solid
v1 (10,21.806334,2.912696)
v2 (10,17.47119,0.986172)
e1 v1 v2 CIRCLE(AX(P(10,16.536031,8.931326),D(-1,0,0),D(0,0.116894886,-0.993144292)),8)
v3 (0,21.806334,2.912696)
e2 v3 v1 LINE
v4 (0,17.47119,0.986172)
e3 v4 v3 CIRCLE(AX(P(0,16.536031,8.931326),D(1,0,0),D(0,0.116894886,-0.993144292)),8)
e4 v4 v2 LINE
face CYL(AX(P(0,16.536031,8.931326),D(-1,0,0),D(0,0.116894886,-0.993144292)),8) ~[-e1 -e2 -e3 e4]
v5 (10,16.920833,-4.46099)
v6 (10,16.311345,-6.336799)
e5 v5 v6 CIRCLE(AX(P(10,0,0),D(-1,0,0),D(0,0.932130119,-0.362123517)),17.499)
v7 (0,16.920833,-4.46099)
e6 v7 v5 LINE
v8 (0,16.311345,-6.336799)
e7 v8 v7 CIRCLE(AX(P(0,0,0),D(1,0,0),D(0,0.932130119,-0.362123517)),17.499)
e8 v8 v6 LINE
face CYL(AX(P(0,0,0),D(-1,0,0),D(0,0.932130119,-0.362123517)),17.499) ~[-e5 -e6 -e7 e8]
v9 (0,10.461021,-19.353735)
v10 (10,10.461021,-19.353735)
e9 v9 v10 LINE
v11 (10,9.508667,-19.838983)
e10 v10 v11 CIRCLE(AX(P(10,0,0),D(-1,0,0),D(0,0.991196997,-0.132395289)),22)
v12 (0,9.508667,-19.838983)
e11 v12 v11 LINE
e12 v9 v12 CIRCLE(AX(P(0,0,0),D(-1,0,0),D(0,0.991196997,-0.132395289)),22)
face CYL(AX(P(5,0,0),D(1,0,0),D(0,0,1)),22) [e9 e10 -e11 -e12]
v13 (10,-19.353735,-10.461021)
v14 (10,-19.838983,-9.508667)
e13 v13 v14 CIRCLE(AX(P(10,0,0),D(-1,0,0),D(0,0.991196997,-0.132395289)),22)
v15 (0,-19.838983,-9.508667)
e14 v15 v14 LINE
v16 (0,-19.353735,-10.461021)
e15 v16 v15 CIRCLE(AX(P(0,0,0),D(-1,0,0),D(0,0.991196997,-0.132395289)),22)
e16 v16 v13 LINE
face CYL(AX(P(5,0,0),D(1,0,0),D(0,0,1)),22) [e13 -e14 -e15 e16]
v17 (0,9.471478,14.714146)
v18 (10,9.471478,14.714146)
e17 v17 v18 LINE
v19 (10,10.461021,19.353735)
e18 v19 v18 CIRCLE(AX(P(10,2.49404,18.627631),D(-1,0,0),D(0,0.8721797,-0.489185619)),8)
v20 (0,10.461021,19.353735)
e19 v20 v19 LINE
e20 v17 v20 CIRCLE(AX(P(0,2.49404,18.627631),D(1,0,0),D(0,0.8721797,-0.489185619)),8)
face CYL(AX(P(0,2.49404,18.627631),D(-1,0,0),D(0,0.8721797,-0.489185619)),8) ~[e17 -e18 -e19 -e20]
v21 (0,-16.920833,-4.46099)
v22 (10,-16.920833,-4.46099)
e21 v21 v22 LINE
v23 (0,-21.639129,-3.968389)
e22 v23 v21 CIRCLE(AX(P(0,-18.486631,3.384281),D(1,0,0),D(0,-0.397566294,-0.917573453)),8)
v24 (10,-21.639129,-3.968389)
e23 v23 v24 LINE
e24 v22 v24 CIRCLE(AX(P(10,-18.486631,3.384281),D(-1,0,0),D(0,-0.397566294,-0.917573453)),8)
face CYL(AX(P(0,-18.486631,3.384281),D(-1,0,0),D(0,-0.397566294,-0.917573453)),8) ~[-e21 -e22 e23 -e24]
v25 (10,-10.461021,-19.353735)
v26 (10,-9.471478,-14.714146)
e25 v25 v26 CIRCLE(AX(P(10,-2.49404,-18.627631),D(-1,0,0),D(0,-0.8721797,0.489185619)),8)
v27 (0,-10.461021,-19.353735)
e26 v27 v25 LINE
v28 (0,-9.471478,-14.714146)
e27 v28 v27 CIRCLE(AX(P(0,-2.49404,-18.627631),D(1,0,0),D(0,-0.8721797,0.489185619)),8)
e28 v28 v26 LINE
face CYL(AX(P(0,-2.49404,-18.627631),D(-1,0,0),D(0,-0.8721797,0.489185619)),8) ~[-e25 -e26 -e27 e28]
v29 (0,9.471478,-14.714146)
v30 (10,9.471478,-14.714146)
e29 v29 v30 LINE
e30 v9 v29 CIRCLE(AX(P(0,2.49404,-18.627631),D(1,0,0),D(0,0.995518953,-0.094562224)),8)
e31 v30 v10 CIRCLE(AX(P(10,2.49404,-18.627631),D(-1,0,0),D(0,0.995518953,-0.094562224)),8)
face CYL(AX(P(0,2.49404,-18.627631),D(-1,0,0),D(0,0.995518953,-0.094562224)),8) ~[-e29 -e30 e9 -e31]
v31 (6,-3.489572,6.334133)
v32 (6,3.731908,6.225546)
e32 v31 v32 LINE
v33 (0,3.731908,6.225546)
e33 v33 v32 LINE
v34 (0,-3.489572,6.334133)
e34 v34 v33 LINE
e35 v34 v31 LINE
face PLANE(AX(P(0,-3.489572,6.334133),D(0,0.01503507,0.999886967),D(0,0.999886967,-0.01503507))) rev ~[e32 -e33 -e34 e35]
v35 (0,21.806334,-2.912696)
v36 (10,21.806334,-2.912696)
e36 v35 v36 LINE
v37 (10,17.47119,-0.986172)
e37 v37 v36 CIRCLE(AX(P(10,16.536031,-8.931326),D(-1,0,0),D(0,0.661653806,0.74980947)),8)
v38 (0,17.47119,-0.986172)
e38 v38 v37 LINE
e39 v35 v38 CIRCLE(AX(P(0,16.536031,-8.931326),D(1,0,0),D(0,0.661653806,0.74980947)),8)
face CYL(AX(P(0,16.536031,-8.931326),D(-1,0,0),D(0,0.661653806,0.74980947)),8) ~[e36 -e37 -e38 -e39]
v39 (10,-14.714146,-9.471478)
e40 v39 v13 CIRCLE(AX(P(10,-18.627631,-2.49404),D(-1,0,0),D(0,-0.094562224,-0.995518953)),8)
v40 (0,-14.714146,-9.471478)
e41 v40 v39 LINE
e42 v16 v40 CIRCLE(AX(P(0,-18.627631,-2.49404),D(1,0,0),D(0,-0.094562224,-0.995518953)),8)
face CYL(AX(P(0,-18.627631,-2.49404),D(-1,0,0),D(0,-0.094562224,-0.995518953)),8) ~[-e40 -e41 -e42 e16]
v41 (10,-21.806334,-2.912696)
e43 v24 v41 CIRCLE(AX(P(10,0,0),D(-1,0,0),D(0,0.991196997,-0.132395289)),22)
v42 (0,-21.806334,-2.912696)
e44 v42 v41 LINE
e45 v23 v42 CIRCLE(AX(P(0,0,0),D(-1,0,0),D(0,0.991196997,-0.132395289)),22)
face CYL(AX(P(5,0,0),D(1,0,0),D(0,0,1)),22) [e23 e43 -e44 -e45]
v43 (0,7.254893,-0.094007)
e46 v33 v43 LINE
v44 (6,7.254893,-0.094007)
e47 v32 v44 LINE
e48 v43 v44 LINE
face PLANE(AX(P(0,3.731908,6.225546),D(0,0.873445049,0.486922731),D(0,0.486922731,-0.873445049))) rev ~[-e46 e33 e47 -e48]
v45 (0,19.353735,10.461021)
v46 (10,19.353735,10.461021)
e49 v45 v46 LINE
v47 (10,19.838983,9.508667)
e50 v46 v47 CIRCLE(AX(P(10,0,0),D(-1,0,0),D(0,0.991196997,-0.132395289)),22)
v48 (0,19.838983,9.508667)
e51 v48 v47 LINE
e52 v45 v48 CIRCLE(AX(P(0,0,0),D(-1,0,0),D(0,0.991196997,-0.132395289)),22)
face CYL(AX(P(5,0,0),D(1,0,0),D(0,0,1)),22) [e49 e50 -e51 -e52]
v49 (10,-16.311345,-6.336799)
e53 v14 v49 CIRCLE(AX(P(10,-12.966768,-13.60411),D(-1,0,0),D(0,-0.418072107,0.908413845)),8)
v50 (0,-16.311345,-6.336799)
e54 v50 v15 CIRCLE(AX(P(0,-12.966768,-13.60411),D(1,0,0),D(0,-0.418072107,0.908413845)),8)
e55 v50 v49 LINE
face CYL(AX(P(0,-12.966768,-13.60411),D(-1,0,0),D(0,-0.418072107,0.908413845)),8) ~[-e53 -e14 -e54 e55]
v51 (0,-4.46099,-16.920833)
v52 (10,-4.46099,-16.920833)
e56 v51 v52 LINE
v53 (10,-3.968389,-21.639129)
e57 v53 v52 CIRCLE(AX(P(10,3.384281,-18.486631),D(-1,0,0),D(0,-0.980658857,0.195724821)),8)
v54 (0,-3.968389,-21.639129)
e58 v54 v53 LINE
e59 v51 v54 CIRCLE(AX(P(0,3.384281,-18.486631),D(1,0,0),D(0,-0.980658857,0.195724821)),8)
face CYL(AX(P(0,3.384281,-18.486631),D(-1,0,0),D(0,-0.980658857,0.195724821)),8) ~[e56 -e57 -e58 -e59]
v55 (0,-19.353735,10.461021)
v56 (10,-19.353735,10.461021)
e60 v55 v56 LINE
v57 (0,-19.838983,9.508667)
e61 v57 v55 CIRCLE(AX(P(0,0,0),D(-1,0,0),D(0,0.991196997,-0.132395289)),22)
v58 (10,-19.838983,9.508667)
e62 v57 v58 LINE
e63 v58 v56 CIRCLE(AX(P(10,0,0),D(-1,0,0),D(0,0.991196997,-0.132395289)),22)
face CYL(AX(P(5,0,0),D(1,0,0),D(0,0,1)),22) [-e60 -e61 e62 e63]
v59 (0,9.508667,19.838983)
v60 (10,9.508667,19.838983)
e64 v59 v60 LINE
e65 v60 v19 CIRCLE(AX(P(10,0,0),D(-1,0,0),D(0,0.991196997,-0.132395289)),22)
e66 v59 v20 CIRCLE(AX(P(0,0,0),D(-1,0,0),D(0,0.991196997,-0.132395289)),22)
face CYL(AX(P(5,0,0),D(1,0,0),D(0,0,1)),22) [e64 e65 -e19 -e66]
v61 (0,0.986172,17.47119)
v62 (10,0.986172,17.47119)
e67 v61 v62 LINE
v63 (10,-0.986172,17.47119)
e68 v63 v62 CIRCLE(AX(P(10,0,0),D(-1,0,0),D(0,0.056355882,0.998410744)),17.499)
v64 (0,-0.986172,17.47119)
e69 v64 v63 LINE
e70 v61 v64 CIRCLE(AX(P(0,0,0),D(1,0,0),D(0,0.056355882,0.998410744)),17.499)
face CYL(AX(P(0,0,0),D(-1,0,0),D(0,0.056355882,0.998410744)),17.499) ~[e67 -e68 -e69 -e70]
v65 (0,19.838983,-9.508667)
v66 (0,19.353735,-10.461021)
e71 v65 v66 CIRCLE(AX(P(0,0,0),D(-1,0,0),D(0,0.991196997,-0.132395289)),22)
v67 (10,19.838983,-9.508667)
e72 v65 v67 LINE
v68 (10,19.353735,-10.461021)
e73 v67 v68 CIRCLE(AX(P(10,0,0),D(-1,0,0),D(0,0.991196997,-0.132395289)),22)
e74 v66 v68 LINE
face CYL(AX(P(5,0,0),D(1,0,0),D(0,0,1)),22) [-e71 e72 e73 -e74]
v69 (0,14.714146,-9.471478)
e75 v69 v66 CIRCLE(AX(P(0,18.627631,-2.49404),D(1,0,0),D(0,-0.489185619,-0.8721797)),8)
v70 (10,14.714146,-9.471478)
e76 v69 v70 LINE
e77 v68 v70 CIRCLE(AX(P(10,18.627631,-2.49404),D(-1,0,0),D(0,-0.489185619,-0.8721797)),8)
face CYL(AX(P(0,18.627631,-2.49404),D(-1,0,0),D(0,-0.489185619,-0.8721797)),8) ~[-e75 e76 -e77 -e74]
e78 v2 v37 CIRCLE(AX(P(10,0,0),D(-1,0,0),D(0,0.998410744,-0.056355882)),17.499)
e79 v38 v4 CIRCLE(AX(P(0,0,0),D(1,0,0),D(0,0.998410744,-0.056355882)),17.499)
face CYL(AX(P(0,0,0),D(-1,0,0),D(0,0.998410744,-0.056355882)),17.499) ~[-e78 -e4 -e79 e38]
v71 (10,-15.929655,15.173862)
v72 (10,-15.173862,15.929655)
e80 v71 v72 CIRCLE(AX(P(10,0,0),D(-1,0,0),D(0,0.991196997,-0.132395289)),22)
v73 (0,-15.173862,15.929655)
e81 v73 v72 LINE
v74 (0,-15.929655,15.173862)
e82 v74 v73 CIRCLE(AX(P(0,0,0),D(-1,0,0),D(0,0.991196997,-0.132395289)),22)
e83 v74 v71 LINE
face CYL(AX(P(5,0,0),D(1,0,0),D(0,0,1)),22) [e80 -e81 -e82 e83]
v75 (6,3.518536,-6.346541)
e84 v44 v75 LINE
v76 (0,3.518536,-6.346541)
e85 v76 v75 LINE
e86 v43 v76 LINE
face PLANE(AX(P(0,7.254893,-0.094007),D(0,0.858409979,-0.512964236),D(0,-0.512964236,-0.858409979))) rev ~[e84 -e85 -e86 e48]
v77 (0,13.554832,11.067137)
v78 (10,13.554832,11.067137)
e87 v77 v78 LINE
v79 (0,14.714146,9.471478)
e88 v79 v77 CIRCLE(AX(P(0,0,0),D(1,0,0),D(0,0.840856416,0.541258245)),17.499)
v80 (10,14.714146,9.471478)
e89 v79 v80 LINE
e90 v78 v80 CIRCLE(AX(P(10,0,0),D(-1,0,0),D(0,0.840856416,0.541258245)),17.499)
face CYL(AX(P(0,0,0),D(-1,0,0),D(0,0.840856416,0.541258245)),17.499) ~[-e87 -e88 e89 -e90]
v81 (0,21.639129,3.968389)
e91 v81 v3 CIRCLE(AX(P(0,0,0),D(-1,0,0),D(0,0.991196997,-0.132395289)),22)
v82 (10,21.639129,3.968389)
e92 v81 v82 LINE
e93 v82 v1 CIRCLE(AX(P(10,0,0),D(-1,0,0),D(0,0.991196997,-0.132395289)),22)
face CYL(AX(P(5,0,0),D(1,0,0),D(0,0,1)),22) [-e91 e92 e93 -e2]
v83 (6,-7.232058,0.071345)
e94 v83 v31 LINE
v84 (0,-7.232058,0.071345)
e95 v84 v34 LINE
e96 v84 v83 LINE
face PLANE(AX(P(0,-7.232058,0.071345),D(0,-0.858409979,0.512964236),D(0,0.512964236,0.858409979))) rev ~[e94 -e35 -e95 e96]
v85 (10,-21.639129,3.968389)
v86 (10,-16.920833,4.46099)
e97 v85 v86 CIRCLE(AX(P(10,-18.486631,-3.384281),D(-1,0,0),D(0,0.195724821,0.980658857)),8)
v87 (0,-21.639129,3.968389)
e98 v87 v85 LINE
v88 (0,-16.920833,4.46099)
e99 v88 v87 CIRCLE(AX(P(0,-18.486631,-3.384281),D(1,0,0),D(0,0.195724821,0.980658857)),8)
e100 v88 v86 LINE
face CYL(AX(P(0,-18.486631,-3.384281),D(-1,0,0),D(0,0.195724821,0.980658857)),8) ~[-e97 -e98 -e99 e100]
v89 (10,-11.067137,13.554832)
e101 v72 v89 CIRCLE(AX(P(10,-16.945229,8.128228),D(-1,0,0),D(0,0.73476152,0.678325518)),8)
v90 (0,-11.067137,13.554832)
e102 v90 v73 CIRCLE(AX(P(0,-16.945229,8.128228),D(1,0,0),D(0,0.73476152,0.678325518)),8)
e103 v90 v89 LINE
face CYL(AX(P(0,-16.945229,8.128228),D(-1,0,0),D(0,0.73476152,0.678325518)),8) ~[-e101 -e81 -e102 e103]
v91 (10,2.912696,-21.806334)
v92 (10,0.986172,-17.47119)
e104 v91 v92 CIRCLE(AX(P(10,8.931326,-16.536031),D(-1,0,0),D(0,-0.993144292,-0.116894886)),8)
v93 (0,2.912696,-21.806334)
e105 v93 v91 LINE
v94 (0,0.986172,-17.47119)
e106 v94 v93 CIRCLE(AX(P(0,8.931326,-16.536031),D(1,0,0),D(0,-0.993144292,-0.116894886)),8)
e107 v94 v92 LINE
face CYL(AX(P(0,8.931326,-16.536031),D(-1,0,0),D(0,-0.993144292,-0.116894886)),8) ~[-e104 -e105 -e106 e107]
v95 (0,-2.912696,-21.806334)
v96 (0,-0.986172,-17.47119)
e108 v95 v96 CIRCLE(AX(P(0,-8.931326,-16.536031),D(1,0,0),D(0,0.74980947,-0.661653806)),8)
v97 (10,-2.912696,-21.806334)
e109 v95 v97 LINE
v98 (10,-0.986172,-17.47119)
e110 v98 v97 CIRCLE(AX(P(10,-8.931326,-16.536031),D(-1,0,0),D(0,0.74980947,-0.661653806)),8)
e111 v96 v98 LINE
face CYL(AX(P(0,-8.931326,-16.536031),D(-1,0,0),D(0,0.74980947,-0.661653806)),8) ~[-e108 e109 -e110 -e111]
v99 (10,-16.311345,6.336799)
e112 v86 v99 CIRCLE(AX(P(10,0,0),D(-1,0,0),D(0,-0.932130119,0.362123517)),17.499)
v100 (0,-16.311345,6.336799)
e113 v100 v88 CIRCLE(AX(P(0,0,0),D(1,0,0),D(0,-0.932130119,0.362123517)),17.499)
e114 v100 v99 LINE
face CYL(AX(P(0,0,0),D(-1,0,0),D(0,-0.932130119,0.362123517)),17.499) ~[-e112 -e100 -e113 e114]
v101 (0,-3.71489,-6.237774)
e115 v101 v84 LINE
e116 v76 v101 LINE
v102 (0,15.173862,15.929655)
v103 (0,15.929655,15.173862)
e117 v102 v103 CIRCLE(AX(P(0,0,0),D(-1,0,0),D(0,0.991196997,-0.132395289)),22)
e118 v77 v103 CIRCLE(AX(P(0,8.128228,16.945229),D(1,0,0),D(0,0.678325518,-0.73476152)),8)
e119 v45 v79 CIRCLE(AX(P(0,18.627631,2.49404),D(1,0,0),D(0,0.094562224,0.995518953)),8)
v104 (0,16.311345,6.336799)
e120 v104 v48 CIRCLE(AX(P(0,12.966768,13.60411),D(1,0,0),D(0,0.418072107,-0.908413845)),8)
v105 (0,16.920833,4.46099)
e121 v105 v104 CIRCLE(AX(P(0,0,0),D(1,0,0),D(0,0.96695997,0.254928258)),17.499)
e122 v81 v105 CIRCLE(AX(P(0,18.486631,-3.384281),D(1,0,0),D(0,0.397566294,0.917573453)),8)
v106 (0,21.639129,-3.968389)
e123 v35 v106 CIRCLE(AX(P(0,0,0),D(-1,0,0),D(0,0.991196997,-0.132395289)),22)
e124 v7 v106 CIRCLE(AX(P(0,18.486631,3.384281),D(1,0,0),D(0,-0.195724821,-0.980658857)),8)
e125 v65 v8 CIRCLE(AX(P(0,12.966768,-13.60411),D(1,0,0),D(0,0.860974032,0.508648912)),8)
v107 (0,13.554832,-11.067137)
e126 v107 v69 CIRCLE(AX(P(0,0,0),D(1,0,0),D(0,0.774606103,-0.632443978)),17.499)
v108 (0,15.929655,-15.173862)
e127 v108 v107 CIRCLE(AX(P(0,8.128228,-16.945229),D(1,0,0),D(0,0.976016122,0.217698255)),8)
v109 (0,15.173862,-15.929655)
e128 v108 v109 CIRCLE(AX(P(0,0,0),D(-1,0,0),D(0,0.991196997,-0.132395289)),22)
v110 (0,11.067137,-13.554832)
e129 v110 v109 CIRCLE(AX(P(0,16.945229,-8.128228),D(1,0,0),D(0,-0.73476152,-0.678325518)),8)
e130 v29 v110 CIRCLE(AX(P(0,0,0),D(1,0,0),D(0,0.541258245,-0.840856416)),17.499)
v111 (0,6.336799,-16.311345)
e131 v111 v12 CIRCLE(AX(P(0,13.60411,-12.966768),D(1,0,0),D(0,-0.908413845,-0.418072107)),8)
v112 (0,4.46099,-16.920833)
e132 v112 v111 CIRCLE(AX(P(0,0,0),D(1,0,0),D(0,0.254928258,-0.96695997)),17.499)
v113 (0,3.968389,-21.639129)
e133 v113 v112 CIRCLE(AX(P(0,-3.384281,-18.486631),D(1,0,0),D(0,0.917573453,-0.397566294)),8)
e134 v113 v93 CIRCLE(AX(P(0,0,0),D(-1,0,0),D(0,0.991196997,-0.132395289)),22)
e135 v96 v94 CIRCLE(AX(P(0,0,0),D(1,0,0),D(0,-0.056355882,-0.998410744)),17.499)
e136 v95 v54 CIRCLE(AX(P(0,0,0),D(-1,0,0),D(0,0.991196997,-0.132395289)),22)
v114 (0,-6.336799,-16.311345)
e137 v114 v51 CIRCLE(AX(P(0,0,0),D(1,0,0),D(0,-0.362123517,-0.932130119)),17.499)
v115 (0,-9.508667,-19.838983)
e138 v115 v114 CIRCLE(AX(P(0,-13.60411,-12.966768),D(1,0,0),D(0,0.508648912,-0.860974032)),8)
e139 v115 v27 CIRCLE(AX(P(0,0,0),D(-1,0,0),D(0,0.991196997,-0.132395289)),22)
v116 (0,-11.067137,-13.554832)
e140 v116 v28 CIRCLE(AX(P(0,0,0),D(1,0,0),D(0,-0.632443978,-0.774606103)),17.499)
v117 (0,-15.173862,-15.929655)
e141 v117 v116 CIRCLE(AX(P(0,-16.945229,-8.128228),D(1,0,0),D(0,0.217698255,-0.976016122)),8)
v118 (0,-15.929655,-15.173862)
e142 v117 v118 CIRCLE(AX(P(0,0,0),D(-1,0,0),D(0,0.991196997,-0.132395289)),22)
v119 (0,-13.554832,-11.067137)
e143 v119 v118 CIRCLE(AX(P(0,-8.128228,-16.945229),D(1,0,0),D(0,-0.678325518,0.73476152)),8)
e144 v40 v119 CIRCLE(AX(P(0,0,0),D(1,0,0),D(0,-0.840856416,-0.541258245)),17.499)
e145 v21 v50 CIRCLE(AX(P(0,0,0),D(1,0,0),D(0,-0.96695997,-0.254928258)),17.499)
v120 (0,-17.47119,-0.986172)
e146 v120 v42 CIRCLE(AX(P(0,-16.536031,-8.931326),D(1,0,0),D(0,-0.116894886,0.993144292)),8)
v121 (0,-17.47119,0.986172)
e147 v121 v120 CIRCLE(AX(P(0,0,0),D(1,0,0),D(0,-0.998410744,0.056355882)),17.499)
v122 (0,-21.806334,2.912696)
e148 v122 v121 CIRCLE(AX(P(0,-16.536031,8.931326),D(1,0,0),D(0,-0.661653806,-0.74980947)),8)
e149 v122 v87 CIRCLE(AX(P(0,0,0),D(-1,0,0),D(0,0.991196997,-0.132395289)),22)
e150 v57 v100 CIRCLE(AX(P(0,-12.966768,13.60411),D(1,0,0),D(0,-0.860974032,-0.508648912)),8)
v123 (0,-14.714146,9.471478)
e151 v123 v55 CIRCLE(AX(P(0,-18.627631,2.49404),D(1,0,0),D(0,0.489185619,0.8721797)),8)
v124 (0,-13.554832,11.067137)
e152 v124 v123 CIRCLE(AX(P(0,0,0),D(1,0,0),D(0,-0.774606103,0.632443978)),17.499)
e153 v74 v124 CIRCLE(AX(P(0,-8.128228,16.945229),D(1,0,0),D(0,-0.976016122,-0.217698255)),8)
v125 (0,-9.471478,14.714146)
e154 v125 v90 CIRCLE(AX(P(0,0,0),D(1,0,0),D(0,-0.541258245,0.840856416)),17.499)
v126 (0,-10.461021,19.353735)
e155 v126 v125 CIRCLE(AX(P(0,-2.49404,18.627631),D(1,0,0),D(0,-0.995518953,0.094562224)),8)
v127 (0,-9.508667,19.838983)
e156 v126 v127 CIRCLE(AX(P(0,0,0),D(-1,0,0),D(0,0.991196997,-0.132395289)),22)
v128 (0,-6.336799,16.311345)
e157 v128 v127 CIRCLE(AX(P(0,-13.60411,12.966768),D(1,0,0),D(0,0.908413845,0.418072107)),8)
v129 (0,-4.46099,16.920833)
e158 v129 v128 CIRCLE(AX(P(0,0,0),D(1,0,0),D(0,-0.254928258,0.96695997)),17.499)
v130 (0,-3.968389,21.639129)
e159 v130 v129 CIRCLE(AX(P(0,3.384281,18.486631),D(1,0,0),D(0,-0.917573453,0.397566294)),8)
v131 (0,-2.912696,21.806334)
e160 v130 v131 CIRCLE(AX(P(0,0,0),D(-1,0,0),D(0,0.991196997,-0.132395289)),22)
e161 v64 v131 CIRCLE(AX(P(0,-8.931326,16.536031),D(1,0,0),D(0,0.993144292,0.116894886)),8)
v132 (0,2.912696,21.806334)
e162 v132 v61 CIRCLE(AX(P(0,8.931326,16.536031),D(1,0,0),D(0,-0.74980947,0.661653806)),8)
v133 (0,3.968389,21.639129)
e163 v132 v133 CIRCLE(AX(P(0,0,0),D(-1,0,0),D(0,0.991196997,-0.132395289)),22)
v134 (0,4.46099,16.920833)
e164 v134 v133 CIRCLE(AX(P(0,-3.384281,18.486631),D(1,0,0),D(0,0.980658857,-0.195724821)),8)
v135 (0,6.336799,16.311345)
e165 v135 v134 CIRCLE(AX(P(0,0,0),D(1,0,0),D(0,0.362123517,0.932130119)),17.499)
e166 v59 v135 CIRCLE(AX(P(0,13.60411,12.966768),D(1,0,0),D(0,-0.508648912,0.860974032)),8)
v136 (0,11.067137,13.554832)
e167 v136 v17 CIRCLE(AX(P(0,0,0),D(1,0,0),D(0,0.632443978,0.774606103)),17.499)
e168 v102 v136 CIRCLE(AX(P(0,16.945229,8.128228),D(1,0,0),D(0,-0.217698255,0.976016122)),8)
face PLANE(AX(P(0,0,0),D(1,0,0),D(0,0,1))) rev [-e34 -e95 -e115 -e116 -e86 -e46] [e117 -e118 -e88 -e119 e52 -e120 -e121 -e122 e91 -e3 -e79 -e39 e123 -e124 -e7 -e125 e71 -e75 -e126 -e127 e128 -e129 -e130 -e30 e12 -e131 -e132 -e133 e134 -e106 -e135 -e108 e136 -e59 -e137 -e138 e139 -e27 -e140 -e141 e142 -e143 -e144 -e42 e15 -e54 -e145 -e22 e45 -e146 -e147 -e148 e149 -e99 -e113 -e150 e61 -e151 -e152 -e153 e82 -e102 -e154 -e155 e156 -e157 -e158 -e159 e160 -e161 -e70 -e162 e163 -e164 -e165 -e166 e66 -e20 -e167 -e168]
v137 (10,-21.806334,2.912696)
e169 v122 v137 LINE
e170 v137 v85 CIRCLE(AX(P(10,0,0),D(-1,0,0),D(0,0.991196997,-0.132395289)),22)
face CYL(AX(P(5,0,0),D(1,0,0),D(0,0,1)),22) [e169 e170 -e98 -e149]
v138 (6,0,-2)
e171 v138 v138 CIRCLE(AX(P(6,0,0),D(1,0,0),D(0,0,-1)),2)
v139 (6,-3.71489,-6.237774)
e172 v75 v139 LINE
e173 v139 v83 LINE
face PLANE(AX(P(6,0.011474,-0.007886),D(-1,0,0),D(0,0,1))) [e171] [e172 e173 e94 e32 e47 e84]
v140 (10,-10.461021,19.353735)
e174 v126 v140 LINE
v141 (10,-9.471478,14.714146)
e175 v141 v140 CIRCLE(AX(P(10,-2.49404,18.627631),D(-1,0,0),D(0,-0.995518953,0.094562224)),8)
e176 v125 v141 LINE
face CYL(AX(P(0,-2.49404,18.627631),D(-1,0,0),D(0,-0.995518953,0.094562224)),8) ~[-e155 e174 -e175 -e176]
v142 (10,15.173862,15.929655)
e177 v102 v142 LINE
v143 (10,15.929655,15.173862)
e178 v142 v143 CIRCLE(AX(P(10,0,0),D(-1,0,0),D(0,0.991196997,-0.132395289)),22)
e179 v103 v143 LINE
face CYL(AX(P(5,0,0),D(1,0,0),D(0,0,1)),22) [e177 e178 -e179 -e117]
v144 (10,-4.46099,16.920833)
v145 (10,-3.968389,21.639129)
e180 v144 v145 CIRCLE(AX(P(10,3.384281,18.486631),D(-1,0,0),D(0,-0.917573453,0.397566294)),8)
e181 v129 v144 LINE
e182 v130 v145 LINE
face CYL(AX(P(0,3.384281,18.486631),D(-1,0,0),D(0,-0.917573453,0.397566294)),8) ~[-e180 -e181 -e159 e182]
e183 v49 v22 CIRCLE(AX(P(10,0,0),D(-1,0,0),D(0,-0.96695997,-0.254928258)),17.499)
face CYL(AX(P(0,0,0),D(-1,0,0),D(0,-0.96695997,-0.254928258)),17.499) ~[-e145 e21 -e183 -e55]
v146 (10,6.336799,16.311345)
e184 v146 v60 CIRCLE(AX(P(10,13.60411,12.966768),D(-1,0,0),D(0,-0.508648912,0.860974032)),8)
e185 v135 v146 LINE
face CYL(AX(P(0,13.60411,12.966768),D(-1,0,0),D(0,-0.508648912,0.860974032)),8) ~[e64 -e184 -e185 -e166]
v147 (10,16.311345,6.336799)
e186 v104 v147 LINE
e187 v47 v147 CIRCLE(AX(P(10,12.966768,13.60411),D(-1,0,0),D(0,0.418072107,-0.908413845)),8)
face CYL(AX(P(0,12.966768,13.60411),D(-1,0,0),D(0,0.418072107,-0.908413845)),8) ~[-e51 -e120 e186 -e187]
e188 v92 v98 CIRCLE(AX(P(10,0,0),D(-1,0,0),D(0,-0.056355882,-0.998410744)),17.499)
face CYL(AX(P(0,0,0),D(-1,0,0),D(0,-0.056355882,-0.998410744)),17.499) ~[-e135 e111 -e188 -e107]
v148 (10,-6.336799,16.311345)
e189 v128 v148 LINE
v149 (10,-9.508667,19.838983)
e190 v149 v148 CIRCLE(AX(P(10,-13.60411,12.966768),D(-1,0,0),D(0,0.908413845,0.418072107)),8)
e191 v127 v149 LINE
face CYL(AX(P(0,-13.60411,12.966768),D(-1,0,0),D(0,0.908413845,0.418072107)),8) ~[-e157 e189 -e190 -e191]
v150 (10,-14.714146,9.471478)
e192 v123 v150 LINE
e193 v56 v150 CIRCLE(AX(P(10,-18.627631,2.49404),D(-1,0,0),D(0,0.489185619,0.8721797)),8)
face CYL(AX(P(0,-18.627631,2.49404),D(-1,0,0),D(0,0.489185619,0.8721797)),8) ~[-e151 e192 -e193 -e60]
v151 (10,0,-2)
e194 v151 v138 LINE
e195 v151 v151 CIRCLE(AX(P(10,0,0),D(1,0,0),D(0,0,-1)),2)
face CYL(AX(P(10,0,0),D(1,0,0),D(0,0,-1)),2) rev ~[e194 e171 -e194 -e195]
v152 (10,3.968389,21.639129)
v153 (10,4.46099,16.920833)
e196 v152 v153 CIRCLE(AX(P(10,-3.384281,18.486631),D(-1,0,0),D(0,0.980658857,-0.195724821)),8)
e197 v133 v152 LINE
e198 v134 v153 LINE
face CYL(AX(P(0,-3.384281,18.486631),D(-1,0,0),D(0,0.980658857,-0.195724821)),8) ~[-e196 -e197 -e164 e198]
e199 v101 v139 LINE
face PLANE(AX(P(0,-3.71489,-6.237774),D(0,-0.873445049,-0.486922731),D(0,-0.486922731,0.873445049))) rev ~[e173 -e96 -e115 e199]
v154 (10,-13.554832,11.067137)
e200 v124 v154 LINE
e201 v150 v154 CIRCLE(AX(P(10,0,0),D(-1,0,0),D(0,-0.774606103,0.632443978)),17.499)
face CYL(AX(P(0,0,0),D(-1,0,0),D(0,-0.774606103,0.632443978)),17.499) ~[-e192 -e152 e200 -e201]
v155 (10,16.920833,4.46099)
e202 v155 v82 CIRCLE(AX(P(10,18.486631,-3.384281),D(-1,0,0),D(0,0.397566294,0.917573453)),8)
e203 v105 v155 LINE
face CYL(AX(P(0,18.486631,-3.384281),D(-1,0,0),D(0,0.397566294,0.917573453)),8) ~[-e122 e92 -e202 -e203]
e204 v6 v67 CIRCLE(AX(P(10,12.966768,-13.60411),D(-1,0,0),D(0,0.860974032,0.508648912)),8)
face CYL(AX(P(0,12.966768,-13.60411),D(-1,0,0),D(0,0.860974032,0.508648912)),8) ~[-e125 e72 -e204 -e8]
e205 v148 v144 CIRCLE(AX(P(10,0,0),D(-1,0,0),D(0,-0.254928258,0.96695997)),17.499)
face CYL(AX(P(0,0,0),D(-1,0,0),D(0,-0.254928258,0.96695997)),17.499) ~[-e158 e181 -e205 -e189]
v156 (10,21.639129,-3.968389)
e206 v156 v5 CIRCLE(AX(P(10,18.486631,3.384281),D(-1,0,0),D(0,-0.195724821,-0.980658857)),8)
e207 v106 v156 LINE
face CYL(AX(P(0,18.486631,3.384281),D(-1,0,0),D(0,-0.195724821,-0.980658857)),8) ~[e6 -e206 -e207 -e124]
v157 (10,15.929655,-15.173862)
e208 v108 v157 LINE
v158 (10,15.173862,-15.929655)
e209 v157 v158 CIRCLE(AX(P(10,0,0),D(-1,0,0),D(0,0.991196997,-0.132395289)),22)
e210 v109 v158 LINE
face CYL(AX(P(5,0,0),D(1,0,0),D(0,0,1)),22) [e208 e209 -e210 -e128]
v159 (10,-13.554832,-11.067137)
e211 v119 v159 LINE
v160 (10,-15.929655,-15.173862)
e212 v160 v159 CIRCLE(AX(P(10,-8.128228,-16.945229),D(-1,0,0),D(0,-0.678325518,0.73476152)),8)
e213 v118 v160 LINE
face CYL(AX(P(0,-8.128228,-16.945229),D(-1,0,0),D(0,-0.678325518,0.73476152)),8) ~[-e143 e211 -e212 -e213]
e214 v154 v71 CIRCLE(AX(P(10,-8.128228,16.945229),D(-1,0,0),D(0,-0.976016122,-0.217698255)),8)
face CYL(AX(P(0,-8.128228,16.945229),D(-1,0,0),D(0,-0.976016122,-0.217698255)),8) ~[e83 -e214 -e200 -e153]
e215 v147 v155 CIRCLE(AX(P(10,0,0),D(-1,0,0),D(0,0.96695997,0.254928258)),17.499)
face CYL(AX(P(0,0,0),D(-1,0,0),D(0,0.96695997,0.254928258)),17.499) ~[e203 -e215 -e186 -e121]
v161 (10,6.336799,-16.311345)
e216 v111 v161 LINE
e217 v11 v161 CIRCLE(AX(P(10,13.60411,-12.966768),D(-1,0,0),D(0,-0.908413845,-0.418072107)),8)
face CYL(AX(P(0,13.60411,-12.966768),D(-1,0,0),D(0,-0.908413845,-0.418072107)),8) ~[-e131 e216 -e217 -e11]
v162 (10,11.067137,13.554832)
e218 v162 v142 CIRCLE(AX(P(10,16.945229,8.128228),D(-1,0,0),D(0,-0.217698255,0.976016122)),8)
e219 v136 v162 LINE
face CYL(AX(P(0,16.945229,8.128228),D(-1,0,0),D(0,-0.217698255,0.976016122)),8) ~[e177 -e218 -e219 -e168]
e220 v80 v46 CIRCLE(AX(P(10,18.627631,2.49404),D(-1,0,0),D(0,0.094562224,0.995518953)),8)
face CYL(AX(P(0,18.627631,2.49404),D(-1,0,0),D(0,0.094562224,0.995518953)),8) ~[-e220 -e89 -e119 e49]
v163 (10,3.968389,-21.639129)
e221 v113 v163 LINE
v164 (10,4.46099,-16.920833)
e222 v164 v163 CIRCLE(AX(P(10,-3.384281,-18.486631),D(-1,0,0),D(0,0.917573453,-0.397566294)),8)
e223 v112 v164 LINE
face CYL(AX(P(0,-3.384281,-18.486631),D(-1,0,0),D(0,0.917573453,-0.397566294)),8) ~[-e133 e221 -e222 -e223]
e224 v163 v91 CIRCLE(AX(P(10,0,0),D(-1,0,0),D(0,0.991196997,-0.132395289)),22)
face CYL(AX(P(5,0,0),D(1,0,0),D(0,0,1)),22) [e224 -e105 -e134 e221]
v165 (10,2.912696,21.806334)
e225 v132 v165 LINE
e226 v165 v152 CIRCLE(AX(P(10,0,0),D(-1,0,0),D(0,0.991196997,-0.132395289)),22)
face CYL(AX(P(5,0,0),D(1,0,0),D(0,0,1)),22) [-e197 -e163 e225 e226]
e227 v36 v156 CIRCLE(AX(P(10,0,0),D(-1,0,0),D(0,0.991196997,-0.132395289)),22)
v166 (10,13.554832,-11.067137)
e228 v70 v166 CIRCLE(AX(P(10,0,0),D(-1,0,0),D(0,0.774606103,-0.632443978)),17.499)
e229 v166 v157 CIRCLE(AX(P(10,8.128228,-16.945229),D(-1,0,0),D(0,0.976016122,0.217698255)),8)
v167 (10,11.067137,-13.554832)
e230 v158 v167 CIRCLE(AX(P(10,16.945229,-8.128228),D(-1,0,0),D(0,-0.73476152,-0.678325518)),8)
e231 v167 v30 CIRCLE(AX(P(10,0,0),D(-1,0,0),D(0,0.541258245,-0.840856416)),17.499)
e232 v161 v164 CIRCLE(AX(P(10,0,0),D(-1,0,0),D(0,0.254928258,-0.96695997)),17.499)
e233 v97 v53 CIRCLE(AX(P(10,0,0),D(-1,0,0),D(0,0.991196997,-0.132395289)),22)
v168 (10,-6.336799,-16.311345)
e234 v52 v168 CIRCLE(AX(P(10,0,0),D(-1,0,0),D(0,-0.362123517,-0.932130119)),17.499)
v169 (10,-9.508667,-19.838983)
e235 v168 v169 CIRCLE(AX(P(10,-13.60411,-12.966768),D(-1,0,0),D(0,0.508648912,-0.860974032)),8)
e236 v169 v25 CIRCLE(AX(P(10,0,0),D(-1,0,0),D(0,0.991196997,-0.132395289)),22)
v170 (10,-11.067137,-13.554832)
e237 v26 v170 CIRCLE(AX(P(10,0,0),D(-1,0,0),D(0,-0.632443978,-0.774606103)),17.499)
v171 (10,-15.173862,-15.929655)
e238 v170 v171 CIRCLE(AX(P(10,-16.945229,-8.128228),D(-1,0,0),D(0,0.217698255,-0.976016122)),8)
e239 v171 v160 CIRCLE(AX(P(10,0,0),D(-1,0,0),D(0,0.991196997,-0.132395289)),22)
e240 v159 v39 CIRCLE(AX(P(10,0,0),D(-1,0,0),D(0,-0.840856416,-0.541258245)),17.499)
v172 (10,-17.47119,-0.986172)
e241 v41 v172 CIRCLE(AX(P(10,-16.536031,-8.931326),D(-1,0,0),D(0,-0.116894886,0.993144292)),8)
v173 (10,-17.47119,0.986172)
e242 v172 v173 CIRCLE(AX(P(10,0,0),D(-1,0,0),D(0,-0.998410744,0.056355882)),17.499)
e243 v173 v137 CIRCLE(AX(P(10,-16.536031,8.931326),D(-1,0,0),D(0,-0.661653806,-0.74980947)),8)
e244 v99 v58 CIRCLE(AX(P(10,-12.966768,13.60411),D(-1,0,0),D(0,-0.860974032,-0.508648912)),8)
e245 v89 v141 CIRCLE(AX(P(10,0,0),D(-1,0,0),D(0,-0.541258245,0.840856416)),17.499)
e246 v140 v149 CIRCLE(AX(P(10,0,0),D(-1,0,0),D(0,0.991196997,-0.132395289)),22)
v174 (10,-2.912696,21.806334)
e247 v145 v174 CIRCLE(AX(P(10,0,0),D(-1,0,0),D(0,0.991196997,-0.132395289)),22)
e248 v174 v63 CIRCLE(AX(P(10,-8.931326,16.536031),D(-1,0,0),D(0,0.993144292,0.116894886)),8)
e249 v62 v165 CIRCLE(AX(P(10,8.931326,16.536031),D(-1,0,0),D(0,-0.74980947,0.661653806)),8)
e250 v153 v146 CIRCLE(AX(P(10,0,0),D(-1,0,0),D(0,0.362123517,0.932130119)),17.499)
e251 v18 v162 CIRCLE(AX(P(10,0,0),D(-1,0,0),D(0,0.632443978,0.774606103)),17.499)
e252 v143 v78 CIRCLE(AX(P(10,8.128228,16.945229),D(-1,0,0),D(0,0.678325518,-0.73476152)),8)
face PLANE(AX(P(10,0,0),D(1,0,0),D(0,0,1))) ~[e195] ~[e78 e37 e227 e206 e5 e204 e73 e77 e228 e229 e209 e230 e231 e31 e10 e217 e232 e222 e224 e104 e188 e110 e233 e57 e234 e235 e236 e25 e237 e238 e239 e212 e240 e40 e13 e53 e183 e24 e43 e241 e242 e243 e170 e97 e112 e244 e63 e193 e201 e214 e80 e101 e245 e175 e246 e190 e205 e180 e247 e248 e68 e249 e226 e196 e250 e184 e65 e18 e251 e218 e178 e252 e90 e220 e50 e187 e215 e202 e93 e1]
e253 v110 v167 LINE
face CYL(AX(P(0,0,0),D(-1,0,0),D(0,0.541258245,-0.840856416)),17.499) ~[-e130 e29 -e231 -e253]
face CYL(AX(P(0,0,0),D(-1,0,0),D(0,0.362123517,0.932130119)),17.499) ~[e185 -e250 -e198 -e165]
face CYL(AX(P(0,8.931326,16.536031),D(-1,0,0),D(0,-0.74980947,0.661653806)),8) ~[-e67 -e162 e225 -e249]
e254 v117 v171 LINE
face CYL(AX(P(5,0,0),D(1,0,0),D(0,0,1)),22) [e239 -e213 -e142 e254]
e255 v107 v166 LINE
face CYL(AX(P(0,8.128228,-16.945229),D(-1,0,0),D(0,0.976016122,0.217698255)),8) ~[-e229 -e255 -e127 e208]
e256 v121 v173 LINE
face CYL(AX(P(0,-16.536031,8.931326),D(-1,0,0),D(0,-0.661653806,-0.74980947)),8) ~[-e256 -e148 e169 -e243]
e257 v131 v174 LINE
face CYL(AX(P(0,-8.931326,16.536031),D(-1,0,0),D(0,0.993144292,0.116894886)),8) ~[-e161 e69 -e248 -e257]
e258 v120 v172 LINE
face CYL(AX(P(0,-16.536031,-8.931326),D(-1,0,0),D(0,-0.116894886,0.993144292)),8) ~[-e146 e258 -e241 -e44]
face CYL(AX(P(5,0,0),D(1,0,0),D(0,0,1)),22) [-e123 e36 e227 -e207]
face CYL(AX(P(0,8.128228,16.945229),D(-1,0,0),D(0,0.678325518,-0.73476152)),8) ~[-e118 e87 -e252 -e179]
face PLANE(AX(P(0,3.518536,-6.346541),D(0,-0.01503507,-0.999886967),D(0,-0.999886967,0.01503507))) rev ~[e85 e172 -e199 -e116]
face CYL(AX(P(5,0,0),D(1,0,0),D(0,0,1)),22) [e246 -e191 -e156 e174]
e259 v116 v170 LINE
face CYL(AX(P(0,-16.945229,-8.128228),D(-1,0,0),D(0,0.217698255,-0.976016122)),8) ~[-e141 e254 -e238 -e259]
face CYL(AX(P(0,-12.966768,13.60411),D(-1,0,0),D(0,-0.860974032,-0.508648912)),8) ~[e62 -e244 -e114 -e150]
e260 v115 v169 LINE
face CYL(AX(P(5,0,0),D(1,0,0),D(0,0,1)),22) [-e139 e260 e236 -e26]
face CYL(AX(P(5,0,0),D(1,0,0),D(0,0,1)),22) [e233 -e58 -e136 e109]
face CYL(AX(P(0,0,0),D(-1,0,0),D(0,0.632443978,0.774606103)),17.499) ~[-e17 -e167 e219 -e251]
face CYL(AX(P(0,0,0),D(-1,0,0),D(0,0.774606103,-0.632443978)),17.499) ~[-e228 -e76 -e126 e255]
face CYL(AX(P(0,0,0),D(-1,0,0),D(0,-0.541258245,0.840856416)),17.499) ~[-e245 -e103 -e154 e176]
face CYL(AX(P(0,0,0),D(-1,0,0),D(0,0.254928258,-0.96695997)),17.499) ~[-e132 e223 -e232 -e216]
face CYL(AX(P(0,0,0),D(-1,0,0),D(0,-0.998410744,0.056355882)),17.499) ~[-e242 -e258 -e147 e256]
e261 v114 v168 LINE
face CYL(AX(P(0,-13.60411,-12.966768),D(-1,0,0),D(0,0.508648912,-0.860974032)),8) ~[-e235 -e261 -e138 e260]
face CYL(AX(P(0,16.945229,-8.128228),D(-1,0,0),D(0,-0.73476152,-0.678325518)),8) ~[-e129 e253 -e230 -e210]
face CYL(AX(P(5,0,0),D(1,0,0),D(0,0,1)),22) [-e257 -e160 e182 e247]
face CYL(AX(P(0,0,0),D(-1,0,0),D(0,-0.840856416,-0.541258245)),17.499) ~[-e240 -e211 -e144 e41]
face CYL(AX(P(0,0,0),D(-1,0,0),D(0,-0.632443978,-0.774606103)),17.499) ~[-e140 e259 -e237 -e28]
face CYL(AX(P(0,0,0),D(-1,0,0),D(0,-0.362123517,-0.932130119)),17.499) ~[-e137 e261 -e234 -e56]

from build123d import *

# Parameters (mm, degrees)
BASPROSKE_W        = 10
BASPROSKE_H        = 22
TOOTHCUT_DEPTH     = 33.680269277
TEETHCUTS_COUNT    = 20
TEETHCUTS_ANGLE    = 342
BORSKE_R           = 0.4
BORE_DEPTH         = 50.0000508
CUT_EXTRUDE1_DEPTH = 6
SKETCH2_R          = 2
CUT_EXTRUDE2_DEPTH = 6
CUT_EXTRUDE3_DEPTH = 6


with BuildPart() as part:
    # BasProSke → Base-Revolve (revolve)
    with BuildSketch(Plane(origin=(0, 0, 0), x_dir=(1, 0, 0), z_dir=(0, 1, 0)), mode=Mode.PRIVATE) as base_revolve_sk:
        with Locations((5, 11)):
            Rectangle(BASPROSKE_W, BASPROSKE_H)
    revolve(base_revolve_sk.sketch.rotate(Axis((-10, 0, 0), (1, 0, 0)), 180), axis=Axis((-10, 0, 0), (1, 0, 0)))

    # TooCutSke → ToothCut (cut, through all)
    with BuildSketch(Plane(origin=(0, 0, 0), x_dir=(0, 0, -1), z_dir=(1, 0, 0))):
        with BuildLine():
            ThreePointArc((0.986171591, 17.471189616), (0, 17.499), (-0.986171591, 17.471189616))
            ThreePointArc((-0.986171591, 17.471189616), (-1.626916196, 19.798789858), (-2.932850173, 21.829260982))
            ThreePointArc((-2.932850173, 21.829260982), (0, 22.0254), (2.932850173, 21.829260982))
            ThreePointArc((2.932850173, 21.829260982), (1.626916196, 19.798789858), (0.986171591, 17.471189616))
        make_face()
    toothcut = extrude(amount=TOOTHCUT_DEPTH, mode=Mode.SUBTRACT)

    # TeethCuts: ToothCut ×20 about axis
    teethcuts_axis = Axis((-10, 0, 0), (1, 0, 0))
    for i in range(1, TEETHCUTS_COUNT):
        add(toothcut.rotate(teethcuts_axis, i * TEETHCUTS_ANGLE / (TEETHCUTS_COUNT - 1)), mode=Mode.SUBTRACT)

    # BorSke → Bore (cut, symmetric)
    with BuildSketch(Plane(origin=(0, 0, 0), x_dir=(0, 0, -1), z_dir=(1, 0, 0))):
        with Locations(Location((0, 0, 0), (0, 0, 180))):
            Circle(BORSKE_R)
    extrude(amount=BORE_DEPTH, both=True, mode=Mode.SUBTRACT)

    # Sketch1 → Cut-Extrude1 (cut)
    with BuildSketch(Plane.ZY):
        Polygon((-5.947236483, -3.553917279), (0.104168329, -6.927416915), (6.05140712, -3.373496436), (5.947241098, 3.553923678), (-0.104163715, 6.927423314), (-6.051402506, 3.373502835), align=None)
    extrude(amount=-CUT_EXTRUDE1_DEPTH, mode=Mode.SUBTRACT)

    # Sketch2 → Cut-Extrude2 (cut)
    with BuildSketch(Plane(origin=(10, 0, 0), x_dir=(0, 0, -1), z_dir=(1, 0, 0))):
        with Locations((-2.307e-06, 3.199e-06)):
            Circle(SKETCH2_R)
    extrude(amount=-CUT_EXTRUDE2_DEPTH, mode=Mode.SUBTRACT)

    # Sketch4 → Cut-Extrude3 (cut)
    with BuildSketch(Plane.ZY):
        Polygon((-6.346541022, 3.518535779), (-6.237773669, -3.714889608), (0.071344514, -7.232057695), (6.334133484, -3.489572357), (6.225545747, 3.731907869), (-0.094007056, 7.254892984), align=None)
    extrude(amount=-CUT_EXTRUDE3_DEPTH, mode=Mode.SUBTRACT)


solid = part.part
